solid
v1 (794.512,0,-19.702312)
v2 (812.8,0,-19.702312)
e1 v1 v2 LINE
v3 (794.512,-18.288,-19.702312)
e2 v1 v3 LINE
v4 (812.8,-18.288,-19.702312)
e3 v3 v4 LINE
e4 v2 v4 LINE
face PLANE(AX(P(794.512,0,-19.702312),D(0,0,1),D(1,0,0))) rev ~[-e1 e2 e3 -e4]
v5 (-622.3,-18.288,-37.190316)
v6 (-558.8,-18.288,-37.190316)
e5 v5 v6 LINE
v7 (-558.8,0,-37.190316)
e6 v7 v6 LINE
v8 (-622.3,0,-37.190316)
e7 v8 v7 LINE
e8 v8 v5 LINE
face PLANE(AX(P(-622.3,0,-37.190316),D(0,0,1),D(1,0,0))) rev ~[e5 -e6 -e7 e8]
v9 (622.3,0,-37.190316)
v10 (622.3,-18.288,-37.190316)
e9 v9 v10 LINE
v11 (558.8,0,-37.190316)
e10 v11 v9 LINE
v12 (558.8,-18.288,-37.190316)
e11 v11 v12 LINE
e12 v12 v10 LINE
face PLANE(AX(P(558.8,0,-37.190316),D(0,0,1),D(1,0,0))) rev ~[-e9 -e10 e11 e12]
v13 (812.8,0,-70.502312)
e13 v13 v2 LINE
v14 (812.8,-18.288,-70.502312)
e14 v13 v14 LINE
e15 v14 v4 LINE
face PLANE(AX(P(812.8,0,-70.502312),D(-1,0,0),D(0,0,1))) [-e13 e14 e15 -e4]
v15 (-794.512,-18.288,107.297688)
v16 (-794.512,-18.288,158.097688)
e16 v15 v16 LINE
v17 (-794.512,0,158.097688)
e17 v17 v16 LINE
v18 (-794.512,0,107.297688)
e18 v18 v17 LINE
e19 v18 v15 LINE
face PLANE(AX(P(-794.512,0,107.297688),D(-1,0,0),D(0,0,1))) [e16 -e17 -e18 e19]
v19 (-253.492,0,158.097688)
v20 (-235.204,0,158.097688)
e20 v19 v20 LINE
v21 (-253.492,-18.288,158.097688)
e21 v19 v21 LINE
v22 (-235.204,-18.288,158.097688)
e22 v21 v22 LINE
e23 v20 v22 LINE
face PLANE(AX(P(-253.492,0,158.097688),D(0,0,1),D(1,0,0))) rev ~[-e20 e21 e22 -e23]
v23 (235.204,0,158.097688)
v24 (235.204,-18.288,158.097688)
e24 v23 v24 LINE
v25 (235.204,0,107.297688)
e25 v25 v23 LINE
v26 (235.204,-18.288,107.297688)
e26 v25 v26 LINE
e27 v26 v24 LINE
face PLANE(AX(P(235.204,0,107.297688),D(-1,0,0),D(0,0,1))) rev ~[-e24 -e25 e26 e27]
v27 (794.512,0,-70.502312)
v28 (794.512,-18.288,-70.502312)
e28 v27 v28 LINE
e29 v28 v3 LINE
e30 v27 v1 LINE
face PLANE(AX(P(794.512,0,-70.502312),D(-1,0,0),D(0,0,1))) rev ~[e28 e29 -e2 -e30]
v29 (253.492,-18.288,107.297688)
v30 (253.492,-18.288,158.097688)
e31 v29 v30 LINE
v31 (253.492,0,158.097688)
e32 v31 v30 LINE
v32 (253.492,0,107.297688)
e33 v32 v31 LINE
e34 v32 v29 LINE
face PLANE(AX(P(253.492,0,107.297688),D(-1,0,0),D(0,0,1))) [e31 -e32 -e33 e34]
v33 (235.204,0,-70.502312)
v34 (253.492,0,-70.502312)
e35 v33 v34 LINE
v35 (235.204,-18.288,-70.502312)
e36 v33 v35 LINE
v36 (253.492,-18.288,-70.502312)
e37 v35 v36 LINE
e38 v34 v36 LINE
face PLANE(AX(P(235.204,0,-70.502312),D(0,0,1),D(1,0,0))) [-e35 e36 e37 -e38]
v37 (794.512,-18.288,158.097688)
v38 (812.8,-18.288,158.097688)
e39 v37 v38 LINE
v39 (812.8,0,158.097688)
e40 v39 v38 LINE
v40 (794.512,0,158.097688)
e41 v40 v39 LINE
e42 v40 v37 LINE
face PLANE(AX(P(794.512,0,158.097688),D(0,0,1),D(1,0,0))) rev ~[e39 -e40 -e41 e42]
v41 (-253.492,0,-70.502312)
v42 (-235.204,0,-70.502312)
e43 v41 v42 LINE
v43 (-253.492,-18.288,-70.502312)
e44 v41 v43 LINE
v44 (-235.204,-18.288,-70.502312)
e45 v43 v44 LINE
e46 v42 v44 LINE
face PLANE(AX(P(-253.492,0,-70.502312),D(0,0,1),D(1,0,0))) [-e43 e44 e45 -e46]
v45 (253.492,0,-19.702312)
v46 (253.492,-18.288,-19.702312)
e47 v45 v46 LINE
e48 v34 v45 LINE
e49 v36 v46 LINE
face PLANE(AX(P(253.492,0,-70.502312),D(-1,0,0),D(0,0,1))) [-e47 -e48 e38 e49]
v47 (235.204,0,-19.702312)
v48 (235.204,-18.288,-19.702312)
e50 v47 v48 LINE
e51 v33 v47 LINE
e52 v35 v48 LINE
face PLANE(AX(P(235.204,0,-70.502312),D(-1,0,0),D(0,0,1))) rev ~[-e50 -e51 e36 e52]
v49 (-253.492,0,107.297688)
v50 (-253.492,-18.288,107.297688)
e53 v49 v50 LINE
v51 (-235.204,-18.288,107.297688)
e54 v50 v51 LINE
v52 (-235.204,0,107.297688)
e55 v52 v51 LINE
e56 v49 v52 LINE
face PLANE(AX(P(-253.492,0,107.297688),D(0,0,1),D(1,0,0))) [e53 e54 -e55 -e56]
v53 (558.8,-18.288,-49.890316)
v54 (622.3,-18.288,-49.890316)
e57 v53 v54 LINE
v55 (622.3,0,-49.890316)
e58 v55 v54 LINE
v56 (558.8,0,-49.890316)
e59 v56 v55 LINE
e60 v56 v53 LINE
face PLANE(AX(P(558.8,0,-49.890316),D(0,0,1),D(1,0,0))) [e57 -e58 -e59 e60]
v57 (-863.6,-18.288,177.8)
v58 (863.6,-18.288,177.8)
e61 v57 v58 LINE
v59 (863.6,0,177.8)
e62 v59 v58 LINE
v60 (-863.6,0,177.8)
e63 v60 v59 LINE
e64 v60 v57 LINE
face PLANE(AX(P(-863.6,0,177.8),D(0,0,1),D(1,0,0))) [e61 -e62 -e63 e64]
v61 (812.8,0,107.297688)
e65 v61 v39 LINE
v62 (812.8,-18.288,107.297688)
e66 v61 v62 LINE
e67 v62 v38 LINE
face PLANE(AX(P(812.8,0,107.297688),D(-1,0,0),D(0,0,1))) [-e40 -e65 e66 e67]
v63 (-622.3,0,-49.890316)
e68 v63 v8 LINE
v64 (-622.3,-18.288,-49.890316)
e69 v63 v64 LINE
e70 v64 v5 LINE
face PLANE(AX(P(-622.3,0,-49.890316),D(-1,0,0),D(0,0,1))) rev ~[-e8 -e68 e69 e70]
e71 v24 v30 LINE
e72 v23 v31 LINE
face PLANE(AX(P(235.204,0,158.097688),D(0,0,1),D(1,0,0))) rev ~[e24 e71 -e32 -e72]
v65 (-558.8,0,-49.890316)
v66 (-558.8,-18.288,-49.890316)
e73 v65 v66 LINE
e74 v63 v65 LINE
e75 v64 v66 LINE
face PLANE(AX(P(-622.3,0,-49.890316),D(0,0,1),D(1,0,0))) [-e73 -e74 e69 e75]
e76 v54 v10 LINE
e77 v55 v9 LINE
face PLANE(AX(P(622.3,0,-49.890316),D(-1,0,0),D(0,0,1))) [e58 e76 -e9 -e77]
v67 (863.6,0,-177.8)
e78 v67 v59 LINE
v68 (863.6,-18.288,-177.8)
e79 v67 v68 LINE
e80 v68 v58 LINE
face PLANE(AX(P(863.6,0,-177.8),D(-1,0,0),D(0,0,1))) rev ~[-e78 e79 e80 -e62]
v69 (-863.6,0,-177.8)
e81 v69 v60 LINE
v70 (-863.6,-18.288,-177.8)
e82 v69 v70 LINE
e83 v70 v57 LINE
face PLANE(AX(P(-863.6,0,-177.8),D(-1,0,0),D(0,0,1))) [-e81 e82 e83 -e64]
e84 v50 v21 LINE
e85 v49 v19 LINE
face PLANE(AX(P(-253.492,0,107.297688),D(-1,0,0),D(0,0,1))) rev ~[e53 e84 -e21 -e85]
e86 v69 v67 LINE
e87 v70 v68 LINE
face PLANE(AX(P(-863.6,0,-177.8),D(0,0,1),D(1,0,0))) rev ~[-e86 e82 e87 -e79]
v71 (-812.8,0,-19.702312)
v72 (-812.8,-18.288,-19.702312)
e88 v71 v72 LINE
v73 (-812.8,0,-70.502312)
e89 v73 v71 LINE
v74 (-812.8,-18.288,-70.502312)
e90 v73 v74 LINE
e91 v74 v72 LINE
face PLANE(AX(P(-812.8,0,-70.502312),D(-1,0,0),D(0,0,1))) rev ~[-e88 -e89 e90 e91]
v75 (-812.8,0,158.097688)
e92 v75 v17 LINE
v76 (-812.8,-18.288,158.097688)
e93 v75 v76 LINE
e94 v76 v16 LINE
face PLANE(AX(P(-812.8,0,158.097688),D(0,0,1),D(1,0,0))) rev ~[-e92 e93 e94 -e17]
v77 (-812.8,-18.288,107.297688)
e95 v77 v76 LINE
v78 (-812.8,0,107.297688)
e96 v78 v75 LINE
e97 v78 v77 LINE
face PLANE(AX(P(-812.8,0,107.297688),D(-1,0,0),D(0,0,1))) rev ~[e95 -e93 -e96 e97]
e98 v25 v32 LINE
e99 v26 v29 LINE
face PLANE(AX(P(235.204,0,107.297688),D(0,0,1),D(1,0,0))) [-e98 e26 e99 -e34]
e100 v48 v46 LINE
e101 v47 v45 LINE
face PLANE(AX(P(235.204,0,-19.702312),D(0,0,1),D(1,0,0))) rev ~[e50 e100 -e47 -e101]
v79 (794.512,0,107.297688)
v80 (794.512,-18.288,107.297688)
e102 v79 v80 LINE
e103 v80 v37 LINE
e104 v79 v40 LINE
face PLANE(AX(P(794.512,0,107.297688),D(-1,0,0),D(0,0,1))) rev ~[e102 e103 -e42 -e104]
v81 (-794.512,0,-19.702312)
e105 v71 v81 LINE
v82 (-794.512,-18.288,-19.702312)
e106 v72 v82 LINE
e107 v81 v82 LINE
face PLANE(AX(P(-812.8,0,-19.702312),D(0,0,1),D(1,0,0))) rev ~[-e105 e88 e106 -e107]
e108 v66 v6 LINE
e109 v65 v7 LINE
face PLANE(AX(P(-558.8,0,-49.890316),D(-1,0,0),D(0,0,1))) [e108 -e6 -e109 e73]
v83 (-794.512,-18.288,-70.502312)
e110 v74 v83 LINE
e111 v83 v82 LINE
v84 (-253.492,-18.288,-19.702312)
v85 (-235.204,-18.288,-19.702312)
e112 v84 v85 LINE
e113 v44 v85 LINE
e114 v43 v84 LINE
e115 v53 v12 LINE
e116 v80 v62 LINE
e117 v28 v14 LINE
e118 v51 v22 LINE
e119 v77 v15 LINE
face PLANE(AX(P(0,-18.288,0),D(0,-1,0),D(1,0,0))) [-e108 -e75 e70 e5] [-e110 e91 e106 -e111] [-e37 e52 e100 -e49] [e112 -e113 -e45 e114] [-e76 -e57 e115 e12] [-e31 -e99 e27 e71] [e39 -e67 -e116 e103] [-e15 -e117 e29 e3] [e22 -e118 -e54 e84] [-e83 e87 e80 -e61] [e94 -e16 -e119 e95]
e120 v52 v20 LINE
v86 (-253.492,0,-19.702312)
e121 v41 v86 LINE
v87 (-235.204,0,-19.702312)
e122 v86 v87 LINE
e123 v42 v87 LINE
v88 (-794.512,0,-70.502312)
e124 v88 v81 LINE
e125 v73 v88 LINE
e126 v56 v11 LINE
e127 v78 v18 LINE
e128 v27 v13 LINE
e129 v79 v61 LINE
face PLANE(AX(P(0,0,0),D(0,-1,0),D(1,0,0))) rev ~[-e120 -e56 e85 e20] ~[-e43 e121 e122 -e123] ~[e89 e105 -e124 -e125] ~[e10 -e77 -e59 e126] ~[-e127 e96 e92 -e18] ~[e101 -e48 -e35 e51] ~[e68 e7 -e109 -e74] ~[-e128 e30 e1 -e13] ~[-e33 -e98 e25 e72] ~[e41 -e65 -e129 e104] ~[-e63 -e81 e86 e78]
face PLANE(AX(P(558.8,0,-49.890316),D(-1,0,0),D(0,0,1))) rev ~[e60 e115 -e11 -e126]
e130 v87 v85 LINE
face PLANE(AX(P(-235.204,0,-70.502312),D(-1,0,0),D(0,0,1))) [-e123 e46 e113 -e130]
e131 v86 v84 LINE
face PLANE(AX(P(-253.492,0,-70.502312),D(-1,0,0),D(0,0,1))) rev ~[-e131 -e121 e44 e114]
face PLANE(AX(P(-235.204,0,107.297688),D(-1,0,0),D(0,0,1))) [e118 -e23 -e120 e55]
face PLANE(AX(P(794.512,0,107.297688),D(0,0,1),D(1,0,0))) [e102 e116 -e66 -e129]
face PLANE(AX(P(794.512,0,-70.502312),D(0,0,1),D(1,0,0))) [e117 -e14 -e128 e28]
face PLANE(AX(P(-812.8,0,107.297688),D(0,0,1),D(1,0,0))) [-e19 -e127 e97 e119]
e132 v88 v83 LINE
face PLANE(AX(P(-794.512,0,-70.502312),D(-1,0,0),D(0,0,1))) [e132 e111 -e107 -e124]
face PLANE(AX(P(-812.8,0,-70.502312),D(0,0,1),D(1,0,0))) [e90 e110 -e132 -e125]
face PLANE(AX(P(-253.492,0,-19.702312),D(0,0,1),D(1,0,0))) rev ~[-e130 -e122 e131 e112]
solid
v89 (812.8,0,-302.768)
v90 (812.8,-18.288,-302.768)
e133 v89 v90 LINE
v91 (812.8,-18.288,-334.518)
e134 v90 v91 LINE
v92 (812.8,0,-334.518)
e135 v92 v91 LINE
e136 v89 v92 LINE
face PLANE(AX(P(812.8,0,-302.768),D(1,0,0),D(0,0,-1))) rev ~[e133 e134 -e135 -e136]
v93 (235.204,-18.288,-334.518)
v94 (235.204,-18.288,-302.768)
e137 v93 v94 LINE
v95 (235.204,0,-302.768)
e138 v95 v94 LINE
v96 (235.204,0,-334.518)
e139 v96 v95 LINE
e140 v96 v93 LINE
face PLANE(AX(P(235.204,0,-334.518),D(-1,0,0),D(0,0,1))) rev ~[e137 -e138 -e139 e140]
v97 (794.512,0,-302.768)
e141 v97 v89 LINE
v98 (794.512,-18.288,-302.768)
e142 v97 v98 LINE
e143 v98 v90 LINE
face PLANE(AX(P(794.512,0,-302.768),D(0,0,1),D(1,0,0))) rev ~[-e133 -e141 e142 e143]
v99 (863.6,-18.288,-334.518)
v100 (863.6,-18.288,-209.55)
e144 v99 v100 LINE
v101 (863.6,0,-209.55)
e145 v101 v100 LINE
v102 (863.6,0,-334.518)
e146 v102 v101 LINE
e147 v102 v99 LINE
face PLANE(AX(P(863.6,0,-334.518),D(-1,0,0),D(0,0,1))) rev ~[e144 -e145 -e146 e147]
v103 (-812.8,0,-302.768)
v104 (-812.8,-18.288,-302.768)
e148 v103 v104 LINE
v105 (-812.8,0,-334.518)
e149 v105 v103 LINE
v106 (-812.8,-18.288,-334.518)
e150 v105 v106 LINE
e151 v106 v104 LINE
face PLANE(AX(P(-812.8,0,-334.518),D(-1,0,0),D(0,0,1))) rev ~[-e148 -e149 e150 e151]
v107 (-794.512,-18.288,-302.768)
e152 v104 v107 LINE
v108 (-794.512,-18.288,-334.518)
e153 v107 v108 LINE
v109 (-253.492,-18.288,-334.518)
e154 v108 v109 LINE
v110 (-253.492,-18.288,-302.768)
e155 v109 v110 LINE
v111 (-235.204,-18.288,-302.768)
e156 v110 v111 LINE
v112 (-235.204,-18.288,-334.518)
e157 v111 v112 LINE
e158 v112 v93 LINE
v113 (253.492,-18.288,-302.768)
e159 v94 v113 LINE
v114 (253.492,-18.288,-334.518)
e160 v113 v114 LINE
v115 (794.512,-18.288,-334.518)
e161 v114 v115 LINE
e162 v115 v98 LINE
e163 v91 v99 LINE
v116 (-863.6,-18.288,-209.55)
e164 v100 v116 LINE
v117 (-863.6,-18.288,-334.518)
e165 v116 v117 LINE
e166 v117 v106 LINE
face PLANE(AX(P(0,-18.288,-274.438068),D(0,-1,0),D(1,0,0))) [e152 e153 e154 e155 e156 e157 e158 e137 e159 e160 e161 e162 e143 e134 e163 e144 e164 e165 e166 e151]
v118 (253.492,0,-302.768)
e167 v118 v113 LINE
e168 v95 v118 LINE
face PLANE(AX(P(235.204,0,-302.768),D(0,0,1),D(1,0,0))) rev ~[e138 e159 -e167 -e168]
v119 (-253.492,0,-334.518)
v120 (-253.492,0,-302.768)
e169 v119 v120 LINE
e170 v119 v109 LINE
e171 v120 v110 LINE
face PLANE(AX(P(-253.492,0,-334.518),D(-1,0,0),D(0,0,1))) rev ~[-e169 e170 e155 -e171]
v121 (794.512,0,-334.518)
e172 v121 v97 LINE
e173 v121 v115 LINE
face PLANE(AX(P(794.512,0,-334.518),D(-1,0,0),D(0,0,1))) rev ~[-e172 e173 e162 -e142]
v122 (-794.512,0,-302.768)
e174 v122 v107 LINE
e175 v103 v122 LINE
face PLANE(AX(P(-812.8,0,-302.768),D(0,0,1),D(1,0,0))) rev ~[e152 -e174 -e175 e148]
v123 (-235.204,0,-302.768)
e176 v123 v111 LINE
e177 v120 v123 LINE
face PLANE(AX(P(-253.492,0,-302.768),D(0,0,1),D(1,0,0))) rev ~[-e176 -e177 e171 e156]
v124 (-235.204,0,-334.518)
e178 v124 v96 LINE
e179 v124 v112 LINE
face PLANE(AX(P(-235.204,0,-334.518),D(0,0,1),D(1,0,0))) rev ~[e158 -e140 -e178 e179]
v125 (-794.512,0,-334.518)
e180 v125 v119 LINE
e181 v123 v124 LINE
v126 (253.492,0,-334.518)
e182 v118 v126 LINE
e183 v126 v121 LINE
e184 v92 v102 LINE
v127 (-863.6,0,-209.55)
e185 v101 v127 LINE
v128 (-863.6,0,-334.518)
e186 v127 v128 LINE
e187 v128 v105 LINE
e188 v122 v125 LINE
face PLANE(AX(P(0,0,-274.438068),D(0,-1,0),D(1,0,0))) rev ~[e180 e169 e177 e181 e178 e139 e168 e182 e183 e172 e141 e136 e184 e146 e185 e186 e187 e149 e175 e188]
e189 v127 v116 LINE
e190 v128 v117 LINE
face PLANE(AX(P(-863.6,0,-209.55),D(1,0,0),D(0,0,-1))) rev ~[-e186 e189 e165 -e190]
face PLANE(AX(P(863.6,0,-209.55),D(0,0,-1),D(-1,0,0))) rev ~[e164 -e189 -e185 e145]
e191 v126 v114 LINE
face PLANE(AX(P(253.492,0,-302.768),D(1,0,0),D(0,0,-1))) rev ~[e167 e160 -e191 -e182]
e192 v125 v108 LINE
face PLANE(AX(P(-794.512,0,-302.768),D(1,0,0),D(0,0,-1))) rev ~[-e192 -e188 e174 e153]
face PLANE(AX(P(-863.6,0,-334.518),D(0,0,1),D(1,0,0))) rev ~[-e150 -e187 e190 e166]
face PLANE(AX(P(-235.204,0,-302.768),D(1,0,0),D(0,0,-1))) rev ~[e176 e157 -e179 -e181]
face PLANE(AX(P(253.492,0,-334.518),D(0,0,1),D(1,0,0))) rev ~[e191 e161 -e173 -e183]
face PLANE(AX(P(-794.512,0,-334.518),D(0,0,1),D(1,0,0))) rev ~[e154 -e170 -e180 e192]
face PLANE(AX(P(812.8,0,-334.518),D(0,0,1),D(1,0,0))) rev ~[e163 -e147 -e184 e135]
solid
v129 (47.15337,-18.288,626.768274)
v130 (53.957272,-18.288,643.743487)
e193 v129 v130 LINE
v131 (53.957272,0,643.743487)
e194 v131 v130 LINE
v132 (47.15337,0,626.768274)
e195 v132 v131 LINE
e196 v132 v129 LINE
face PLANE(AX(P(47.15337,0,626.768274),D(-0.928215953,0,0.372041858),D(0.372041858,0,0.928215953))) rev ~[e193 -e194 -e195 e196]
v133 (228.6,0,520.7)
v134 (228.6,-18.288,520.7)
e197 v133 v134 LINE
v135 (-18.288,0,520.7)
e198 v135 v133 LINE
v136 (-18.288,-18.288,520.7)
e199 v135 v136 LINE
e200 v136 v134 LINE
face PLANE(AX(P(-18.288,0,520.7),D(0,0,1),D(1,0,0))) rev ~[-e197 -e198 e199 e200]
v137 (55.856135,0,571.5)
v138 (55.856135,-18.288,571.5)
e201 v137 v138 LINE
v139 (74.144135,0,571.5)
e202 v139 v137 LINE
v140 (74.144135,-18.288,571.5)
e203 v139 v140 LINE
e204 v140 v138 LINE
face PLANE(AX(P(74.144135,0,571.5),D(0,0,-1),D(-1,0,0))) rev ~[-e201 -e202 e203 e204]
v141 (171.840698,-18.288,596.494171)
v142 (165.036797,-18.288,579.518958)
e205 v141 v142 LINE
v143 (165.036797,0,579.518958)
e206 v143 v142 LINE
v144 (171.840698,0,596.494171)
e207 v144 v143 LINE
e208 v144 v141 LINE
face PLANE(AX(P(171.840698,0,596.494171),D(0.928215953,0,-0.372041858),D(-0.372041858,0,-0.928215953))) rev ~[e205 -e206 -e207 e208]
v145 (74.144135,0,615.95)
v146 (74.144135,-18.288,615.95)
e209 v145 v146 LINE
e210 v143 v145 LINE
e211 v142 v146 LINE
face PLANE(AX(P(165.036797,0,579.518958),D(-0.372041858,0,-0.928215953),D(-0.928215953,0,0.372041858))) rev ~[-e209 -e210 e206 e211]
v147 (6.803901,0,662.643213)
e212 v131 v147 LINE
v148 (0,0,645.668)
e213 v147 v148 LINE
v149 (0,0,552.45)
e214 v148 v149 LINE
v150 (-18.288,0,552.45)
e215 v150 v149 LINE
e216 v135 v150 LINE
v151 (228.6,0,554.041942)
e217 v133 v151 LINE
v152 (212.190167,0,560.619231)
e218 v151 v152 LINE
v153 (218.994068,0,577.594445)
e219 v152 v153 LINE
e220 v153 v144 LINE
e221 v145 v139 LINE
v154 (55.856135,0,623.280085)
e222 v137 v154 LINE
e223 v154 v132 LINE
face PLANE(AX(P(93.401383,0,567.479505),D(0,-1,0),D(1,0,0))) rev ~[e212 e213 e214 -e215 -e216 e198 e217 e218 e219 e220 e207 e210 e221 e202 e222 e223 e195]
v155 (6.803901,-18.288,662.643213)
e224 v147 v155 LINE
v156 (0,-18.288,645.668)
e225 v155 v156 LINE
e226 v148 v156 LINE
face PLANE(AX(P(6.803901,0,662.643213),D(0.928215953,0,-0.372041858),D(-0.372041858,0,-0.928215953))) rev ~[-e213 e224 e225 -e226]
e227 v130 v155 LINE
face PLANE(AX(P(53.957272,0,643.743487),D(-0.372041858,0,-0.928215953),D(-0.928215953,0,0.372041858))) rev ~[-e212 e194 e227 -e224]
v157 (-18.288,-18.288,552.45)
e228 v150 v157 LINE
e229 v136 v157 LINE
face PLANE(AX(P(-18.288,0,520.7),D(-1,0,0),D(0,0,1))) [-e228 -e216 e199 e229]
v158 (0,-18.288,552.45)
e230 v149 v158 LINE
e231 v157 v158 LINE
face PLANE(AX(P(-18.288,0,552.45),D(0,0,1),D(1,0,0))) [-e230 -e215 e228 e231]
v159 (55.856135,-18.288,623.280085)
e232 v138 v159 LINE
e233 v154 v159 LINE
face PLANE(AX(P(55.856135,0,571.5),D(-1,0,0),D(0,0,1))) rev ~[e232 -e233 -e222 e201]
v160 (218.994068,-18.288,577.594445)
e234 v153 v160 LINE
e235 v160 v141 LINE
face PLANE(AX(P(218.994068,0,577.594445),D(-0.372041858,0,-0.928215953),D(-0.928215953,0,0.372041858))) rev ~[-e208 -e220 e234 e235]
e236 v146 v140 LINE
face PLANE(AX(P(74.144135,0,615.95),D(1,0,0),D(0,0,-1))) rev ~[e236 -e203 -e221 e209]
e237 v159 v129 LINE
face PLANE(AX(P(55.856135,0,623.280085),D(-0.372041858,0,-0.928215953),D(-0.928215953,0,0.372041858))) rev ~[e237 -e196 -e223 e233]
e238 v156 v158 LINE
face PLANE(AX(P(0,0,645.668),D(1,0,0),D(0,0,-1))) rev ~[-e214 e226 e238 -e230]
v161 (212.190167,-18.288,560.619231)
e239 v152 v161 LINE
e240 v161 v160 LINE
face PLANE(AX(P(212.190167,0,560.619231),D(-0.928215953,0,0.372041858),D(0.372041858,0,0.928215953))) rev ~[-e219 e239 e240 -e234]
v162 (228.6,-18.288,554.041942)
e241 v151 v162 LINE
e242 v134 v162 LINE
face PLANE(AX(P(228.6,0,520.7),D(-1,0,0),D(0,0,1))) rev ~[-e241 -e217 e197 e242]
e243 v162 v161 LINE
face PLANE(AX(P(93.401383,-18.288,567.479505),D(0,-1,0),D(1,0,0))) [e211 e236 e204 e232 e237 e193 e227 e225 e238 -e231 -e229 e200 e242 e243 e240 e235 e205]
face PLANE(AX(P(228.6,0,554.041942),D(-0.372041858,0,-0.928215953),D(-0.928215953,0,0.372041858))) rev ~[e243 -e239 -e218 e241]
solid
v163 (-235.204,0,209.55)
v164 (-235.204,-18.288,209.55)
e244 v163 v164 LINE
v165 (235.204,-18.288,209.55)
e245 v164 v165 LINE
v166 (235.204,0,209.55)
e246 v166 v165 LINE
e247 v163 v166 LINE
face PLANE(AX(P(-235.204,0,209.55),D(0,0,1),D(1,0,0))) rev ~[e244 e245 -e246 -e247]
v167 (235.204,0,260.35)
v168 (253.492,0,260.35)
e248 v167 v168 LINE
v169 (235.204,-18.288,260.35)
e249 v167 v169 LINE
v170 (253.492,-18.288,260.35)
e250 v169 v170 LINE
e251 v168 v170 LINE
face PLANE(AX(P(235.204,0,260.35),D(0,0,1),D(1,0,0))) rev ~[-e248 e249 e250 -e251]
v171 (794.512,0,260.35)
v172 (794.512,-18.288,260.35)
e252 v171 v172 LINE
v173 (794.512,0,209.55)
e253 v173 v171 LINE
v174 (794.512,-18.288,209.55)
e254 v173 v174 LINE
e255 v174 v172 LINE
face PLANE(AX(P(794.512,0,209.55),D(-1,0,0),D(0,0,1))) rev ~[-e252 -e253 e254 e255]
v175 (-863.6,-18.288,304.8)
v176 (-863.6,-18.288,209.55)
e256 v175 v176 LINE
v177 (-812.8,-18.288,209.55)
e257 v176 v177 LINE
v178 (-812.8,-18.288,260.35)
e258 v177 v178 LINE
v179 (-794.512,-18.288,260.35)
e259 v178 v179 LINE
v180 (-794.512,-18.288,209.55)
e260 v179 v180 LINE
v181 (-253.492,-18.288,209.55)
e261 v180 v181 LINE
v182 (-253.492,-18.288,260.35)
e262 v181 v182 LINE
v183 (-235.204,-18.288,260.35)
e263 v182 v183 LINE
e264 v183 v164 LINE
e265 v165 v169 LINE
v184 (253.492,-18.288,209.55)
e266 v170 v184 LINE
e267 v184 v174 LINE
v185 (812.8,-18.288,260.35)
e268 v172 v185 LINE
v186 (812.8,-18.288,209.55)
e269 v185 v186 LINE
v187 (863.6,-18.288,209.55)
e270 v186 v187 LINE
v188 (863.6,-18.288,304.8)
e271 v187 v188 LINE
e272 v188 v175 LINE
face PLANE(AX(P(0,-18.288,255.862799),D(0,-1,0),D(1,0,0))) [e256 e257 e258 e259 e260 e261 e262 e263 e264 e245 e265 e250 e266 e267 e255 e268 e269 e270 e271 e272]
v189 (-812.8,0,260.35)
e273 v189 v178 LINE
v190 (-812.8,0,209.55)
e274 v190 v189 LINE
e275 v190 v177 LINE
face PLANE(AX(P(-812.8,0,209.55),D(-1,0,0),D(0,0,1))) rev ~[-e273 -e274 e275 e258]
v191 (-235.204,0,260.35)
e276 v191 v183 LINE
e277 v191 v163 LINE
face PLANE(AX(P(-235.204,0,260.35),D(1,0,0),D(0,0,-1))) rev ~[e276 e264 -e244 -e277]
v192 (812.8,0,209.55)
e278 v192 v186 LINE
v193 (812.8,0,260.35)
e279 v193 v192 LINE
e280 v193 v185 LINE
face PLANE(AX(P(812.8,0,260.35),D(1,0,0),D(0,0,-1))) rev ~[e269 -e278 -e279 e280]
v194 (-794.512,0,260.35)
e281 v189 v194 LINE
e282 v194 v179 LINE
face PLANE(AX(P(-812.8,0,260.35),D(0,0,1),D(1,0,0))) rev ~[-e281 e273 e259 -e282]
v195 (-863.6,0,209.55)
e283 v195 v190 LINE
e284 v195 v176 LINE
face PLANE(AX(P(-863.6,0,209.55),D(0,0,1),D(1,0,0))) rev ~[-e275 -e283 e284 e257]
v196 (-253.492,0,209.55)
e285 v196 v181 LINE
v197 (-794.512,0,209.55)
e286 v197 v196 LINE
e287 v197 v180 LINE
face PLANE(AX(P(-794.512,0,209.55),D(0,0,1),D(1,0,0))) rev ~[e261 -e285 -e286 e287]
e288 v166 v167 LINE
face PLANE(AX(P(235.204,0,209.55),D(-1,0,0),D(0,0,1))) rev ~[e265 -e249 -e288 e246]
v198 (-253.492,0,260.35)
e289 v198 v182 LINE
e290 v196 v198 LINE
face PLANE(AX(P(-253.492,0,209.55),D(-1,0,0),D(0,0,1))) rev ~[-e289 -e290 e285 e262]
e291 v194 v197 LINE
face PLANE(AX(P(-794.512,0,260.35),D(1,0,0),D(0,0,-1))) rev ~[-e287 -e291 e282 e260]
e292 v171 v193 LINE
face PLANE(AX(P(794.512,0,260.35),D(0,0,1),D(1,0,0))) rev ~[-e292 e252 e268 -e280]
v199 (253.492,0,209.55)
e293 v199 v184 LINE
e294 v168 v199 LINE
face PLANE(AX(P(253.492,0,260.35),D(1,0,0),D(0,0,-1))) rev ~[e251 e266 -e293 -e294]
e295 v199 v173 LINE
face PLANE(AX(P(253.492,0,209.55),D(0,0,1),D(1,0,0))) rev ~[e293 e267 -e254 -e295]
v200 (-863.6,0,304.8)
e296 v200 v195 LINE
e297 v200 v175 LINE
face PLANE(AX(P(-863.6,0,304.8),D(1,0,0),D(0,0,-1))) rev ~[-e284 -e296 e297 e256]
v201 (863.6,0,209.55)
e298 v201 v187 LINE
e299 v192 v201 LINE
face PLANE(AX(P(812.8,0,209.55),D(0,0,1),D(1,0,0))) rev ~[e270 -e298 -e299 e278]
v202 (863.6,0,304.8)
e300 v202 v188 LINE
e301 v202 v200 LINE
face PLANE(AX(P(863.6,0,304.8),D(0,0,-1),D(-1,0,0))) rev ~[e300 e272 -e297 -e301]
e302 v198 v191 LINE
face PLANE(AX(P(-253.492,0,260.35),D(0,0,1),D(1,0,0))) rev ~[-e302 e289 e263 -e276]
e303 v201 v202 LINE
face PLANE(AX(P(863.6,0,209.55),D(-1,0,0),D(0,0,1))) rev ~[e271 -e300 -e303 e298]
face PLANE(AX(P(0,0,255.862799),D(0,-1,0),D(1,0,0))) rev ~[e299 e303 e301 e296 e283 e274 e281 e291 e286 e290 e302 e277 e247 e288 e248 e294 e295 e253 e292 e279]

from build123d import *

# Parameters (mm, degrees)
F0_W     = 18.288
F0_H     = 31.75
F1_DEPTH = 18.288
F0_W_2   = 1727.2
F0_H_2   = 355.6
F0_H_3   = 50.8
F0_W_3   = 63.5
F0_H_4   = 12.7


with BuildPart() as f1:
    # F0 (on Front) → F1 (new body)
    with BuildSketch(Plane.XZ):
        Polygon((47.15337043, 626.7682736239), (0, 645.668), (0, 552.45), (0, 520.7), (228.6, 520.7), (228.6, 554.041942092), (212.190166935, 560.6192313076), (181.2694409242, 573.0126881406), (165.036796505, 579.5189576837), (74.1441349231, 615.95), (74.1441349231, 571.5), (55.8561349231, 571.5), (55.8561349231, 615.95), (55.8561349231, 623.2800846326), align=None)
        Polygon((6.8039014954, 662.6432133548), (0, 645.668), (47.15337043, 626.7682736239), (53.9572719254, 643.7434869787), align=None)
        Polygon((181.2694409242, 573.0126881406), (212.190166935, 560.6192313076), (218.9940684304, 577.5944446624), (188.0733424196, 589.9879014954), align=None)
        Polygon((171.8406980004, 596.4941710385), (165.036796505, 579.5189576837), (181.2694409242, 573.0126881406), (188.0733424196, 589.9879014954), align=None)
        with Locations((-9.144, 536.575)):
            Rectangle(F0_W, F0_H)
    extrude(amount=F1_DEPTH)


with BuildPart() as f1b:
    # F0 (on Front) → F1, piece 2 (new body)
    with BuildSketch(Plane.XZ):
        Polygon((-863.6, 304.8), (-863.6, 209.55), (-812.8, 209.55), (-812.8, 260.35), (-794.512, 260.35), (-794.512, 209.55), (-253.492, 209.55), (-253.492, 260.35), (-235.204, 260.35), (-235.204, 209.55), (235.204, 209.55), (235.204, 260.35), (253.492, 260.35), (253.492, 209.55), (794.512, 209.55), (794.512, 260.35), (812.8, 260.35), (812.8, 209.55), (863.6, 209.55), (863.6, 304.8), align=None)
    extrude(amount=F1_DEPTH)


with BuildPart() as f1c:
    # F0 (on Front) → F1, piece 3 (new body)
    with BuildSketch(Plane.XZ):
        Rectangle(F0_W_2, F0_H_2)
        with Locations((-803.656, -45.1023116593)):
            Rectangle(F0_W, F0_H_3, mode=Mode.SUBTRACT)
        with Locations((-590.55, -43.5403157824)):
            Rectangle(F0_W_3, F0_H_4, mode=Mode.SUBTRACT)
        with Locations((-803.656, 132.6976883407)):
            Rectangle(F0_W, F0_H_3, mode=Mode.SUBTRACT)
        with Locations((-244.348, -45.1023116593)):
            Rectangle(F0_W, F0_H_3, mode=Mode.SUBTRACT)
        with Locations((-244.348, 132.6976883407)):
            Rectangle(F0_W, F0_H_3, mode=Mode.SUBTRACT)
        with Locations((244.348, -45.1023116593)):
            Rectangle(F0_W, F0_H_3, mode=Mode.SUBTRACT)
        with Locations((244.348, 132.6976883407)):
            Rectangle(F0_W, F0_H_3, mode=Mode.SUBTRACT)
        with Locations((590.55, -43.5403157824)):
            Rectangle(F0_W_3, F0_H_4, mode=Mode.SUBTRACT)
        with Locations((803.656, -45.1023116593)):
            Rectangle(F0_W, F0_H_3, mode=Mode.SUBTRACT)
        with Locations((803.656, 132.6976883407)):
            Rectangle(F0_W, F0_H_3, mode=Mode.SUBTRACT)
    extrude(amount=F1_DEPTH)


with BuildPart() as f1d:
    # F0 (on Front) → F1, piece 4 (new body)
    with BuildSketch(Plane.XZ):
        Polygon((863.6, -209.55), (-863.6, -209.55), (-863.6, -334.518), (-812.8, -334.518), (-812.8, -302.768), (-794.512, -302.768), (-794.512, -334.518), (-253.492, -334.518), (-253.492, -302.768), (-235.204, -302.768), (-235.204, -334.518), (235.204, -334.518), (235.204, -302.768), (253.492, -302.768), (253.492, -334.518), (794.512, -334.518), (794.512, -302.768), (812.8, -302.768), (812.8, -334.518), (863.6, -334.518), align=None)
    extrude(amount=F1_DEPTH)


solid = Compound([f1.part, f1b.part, f1c.part, f1d.part])
